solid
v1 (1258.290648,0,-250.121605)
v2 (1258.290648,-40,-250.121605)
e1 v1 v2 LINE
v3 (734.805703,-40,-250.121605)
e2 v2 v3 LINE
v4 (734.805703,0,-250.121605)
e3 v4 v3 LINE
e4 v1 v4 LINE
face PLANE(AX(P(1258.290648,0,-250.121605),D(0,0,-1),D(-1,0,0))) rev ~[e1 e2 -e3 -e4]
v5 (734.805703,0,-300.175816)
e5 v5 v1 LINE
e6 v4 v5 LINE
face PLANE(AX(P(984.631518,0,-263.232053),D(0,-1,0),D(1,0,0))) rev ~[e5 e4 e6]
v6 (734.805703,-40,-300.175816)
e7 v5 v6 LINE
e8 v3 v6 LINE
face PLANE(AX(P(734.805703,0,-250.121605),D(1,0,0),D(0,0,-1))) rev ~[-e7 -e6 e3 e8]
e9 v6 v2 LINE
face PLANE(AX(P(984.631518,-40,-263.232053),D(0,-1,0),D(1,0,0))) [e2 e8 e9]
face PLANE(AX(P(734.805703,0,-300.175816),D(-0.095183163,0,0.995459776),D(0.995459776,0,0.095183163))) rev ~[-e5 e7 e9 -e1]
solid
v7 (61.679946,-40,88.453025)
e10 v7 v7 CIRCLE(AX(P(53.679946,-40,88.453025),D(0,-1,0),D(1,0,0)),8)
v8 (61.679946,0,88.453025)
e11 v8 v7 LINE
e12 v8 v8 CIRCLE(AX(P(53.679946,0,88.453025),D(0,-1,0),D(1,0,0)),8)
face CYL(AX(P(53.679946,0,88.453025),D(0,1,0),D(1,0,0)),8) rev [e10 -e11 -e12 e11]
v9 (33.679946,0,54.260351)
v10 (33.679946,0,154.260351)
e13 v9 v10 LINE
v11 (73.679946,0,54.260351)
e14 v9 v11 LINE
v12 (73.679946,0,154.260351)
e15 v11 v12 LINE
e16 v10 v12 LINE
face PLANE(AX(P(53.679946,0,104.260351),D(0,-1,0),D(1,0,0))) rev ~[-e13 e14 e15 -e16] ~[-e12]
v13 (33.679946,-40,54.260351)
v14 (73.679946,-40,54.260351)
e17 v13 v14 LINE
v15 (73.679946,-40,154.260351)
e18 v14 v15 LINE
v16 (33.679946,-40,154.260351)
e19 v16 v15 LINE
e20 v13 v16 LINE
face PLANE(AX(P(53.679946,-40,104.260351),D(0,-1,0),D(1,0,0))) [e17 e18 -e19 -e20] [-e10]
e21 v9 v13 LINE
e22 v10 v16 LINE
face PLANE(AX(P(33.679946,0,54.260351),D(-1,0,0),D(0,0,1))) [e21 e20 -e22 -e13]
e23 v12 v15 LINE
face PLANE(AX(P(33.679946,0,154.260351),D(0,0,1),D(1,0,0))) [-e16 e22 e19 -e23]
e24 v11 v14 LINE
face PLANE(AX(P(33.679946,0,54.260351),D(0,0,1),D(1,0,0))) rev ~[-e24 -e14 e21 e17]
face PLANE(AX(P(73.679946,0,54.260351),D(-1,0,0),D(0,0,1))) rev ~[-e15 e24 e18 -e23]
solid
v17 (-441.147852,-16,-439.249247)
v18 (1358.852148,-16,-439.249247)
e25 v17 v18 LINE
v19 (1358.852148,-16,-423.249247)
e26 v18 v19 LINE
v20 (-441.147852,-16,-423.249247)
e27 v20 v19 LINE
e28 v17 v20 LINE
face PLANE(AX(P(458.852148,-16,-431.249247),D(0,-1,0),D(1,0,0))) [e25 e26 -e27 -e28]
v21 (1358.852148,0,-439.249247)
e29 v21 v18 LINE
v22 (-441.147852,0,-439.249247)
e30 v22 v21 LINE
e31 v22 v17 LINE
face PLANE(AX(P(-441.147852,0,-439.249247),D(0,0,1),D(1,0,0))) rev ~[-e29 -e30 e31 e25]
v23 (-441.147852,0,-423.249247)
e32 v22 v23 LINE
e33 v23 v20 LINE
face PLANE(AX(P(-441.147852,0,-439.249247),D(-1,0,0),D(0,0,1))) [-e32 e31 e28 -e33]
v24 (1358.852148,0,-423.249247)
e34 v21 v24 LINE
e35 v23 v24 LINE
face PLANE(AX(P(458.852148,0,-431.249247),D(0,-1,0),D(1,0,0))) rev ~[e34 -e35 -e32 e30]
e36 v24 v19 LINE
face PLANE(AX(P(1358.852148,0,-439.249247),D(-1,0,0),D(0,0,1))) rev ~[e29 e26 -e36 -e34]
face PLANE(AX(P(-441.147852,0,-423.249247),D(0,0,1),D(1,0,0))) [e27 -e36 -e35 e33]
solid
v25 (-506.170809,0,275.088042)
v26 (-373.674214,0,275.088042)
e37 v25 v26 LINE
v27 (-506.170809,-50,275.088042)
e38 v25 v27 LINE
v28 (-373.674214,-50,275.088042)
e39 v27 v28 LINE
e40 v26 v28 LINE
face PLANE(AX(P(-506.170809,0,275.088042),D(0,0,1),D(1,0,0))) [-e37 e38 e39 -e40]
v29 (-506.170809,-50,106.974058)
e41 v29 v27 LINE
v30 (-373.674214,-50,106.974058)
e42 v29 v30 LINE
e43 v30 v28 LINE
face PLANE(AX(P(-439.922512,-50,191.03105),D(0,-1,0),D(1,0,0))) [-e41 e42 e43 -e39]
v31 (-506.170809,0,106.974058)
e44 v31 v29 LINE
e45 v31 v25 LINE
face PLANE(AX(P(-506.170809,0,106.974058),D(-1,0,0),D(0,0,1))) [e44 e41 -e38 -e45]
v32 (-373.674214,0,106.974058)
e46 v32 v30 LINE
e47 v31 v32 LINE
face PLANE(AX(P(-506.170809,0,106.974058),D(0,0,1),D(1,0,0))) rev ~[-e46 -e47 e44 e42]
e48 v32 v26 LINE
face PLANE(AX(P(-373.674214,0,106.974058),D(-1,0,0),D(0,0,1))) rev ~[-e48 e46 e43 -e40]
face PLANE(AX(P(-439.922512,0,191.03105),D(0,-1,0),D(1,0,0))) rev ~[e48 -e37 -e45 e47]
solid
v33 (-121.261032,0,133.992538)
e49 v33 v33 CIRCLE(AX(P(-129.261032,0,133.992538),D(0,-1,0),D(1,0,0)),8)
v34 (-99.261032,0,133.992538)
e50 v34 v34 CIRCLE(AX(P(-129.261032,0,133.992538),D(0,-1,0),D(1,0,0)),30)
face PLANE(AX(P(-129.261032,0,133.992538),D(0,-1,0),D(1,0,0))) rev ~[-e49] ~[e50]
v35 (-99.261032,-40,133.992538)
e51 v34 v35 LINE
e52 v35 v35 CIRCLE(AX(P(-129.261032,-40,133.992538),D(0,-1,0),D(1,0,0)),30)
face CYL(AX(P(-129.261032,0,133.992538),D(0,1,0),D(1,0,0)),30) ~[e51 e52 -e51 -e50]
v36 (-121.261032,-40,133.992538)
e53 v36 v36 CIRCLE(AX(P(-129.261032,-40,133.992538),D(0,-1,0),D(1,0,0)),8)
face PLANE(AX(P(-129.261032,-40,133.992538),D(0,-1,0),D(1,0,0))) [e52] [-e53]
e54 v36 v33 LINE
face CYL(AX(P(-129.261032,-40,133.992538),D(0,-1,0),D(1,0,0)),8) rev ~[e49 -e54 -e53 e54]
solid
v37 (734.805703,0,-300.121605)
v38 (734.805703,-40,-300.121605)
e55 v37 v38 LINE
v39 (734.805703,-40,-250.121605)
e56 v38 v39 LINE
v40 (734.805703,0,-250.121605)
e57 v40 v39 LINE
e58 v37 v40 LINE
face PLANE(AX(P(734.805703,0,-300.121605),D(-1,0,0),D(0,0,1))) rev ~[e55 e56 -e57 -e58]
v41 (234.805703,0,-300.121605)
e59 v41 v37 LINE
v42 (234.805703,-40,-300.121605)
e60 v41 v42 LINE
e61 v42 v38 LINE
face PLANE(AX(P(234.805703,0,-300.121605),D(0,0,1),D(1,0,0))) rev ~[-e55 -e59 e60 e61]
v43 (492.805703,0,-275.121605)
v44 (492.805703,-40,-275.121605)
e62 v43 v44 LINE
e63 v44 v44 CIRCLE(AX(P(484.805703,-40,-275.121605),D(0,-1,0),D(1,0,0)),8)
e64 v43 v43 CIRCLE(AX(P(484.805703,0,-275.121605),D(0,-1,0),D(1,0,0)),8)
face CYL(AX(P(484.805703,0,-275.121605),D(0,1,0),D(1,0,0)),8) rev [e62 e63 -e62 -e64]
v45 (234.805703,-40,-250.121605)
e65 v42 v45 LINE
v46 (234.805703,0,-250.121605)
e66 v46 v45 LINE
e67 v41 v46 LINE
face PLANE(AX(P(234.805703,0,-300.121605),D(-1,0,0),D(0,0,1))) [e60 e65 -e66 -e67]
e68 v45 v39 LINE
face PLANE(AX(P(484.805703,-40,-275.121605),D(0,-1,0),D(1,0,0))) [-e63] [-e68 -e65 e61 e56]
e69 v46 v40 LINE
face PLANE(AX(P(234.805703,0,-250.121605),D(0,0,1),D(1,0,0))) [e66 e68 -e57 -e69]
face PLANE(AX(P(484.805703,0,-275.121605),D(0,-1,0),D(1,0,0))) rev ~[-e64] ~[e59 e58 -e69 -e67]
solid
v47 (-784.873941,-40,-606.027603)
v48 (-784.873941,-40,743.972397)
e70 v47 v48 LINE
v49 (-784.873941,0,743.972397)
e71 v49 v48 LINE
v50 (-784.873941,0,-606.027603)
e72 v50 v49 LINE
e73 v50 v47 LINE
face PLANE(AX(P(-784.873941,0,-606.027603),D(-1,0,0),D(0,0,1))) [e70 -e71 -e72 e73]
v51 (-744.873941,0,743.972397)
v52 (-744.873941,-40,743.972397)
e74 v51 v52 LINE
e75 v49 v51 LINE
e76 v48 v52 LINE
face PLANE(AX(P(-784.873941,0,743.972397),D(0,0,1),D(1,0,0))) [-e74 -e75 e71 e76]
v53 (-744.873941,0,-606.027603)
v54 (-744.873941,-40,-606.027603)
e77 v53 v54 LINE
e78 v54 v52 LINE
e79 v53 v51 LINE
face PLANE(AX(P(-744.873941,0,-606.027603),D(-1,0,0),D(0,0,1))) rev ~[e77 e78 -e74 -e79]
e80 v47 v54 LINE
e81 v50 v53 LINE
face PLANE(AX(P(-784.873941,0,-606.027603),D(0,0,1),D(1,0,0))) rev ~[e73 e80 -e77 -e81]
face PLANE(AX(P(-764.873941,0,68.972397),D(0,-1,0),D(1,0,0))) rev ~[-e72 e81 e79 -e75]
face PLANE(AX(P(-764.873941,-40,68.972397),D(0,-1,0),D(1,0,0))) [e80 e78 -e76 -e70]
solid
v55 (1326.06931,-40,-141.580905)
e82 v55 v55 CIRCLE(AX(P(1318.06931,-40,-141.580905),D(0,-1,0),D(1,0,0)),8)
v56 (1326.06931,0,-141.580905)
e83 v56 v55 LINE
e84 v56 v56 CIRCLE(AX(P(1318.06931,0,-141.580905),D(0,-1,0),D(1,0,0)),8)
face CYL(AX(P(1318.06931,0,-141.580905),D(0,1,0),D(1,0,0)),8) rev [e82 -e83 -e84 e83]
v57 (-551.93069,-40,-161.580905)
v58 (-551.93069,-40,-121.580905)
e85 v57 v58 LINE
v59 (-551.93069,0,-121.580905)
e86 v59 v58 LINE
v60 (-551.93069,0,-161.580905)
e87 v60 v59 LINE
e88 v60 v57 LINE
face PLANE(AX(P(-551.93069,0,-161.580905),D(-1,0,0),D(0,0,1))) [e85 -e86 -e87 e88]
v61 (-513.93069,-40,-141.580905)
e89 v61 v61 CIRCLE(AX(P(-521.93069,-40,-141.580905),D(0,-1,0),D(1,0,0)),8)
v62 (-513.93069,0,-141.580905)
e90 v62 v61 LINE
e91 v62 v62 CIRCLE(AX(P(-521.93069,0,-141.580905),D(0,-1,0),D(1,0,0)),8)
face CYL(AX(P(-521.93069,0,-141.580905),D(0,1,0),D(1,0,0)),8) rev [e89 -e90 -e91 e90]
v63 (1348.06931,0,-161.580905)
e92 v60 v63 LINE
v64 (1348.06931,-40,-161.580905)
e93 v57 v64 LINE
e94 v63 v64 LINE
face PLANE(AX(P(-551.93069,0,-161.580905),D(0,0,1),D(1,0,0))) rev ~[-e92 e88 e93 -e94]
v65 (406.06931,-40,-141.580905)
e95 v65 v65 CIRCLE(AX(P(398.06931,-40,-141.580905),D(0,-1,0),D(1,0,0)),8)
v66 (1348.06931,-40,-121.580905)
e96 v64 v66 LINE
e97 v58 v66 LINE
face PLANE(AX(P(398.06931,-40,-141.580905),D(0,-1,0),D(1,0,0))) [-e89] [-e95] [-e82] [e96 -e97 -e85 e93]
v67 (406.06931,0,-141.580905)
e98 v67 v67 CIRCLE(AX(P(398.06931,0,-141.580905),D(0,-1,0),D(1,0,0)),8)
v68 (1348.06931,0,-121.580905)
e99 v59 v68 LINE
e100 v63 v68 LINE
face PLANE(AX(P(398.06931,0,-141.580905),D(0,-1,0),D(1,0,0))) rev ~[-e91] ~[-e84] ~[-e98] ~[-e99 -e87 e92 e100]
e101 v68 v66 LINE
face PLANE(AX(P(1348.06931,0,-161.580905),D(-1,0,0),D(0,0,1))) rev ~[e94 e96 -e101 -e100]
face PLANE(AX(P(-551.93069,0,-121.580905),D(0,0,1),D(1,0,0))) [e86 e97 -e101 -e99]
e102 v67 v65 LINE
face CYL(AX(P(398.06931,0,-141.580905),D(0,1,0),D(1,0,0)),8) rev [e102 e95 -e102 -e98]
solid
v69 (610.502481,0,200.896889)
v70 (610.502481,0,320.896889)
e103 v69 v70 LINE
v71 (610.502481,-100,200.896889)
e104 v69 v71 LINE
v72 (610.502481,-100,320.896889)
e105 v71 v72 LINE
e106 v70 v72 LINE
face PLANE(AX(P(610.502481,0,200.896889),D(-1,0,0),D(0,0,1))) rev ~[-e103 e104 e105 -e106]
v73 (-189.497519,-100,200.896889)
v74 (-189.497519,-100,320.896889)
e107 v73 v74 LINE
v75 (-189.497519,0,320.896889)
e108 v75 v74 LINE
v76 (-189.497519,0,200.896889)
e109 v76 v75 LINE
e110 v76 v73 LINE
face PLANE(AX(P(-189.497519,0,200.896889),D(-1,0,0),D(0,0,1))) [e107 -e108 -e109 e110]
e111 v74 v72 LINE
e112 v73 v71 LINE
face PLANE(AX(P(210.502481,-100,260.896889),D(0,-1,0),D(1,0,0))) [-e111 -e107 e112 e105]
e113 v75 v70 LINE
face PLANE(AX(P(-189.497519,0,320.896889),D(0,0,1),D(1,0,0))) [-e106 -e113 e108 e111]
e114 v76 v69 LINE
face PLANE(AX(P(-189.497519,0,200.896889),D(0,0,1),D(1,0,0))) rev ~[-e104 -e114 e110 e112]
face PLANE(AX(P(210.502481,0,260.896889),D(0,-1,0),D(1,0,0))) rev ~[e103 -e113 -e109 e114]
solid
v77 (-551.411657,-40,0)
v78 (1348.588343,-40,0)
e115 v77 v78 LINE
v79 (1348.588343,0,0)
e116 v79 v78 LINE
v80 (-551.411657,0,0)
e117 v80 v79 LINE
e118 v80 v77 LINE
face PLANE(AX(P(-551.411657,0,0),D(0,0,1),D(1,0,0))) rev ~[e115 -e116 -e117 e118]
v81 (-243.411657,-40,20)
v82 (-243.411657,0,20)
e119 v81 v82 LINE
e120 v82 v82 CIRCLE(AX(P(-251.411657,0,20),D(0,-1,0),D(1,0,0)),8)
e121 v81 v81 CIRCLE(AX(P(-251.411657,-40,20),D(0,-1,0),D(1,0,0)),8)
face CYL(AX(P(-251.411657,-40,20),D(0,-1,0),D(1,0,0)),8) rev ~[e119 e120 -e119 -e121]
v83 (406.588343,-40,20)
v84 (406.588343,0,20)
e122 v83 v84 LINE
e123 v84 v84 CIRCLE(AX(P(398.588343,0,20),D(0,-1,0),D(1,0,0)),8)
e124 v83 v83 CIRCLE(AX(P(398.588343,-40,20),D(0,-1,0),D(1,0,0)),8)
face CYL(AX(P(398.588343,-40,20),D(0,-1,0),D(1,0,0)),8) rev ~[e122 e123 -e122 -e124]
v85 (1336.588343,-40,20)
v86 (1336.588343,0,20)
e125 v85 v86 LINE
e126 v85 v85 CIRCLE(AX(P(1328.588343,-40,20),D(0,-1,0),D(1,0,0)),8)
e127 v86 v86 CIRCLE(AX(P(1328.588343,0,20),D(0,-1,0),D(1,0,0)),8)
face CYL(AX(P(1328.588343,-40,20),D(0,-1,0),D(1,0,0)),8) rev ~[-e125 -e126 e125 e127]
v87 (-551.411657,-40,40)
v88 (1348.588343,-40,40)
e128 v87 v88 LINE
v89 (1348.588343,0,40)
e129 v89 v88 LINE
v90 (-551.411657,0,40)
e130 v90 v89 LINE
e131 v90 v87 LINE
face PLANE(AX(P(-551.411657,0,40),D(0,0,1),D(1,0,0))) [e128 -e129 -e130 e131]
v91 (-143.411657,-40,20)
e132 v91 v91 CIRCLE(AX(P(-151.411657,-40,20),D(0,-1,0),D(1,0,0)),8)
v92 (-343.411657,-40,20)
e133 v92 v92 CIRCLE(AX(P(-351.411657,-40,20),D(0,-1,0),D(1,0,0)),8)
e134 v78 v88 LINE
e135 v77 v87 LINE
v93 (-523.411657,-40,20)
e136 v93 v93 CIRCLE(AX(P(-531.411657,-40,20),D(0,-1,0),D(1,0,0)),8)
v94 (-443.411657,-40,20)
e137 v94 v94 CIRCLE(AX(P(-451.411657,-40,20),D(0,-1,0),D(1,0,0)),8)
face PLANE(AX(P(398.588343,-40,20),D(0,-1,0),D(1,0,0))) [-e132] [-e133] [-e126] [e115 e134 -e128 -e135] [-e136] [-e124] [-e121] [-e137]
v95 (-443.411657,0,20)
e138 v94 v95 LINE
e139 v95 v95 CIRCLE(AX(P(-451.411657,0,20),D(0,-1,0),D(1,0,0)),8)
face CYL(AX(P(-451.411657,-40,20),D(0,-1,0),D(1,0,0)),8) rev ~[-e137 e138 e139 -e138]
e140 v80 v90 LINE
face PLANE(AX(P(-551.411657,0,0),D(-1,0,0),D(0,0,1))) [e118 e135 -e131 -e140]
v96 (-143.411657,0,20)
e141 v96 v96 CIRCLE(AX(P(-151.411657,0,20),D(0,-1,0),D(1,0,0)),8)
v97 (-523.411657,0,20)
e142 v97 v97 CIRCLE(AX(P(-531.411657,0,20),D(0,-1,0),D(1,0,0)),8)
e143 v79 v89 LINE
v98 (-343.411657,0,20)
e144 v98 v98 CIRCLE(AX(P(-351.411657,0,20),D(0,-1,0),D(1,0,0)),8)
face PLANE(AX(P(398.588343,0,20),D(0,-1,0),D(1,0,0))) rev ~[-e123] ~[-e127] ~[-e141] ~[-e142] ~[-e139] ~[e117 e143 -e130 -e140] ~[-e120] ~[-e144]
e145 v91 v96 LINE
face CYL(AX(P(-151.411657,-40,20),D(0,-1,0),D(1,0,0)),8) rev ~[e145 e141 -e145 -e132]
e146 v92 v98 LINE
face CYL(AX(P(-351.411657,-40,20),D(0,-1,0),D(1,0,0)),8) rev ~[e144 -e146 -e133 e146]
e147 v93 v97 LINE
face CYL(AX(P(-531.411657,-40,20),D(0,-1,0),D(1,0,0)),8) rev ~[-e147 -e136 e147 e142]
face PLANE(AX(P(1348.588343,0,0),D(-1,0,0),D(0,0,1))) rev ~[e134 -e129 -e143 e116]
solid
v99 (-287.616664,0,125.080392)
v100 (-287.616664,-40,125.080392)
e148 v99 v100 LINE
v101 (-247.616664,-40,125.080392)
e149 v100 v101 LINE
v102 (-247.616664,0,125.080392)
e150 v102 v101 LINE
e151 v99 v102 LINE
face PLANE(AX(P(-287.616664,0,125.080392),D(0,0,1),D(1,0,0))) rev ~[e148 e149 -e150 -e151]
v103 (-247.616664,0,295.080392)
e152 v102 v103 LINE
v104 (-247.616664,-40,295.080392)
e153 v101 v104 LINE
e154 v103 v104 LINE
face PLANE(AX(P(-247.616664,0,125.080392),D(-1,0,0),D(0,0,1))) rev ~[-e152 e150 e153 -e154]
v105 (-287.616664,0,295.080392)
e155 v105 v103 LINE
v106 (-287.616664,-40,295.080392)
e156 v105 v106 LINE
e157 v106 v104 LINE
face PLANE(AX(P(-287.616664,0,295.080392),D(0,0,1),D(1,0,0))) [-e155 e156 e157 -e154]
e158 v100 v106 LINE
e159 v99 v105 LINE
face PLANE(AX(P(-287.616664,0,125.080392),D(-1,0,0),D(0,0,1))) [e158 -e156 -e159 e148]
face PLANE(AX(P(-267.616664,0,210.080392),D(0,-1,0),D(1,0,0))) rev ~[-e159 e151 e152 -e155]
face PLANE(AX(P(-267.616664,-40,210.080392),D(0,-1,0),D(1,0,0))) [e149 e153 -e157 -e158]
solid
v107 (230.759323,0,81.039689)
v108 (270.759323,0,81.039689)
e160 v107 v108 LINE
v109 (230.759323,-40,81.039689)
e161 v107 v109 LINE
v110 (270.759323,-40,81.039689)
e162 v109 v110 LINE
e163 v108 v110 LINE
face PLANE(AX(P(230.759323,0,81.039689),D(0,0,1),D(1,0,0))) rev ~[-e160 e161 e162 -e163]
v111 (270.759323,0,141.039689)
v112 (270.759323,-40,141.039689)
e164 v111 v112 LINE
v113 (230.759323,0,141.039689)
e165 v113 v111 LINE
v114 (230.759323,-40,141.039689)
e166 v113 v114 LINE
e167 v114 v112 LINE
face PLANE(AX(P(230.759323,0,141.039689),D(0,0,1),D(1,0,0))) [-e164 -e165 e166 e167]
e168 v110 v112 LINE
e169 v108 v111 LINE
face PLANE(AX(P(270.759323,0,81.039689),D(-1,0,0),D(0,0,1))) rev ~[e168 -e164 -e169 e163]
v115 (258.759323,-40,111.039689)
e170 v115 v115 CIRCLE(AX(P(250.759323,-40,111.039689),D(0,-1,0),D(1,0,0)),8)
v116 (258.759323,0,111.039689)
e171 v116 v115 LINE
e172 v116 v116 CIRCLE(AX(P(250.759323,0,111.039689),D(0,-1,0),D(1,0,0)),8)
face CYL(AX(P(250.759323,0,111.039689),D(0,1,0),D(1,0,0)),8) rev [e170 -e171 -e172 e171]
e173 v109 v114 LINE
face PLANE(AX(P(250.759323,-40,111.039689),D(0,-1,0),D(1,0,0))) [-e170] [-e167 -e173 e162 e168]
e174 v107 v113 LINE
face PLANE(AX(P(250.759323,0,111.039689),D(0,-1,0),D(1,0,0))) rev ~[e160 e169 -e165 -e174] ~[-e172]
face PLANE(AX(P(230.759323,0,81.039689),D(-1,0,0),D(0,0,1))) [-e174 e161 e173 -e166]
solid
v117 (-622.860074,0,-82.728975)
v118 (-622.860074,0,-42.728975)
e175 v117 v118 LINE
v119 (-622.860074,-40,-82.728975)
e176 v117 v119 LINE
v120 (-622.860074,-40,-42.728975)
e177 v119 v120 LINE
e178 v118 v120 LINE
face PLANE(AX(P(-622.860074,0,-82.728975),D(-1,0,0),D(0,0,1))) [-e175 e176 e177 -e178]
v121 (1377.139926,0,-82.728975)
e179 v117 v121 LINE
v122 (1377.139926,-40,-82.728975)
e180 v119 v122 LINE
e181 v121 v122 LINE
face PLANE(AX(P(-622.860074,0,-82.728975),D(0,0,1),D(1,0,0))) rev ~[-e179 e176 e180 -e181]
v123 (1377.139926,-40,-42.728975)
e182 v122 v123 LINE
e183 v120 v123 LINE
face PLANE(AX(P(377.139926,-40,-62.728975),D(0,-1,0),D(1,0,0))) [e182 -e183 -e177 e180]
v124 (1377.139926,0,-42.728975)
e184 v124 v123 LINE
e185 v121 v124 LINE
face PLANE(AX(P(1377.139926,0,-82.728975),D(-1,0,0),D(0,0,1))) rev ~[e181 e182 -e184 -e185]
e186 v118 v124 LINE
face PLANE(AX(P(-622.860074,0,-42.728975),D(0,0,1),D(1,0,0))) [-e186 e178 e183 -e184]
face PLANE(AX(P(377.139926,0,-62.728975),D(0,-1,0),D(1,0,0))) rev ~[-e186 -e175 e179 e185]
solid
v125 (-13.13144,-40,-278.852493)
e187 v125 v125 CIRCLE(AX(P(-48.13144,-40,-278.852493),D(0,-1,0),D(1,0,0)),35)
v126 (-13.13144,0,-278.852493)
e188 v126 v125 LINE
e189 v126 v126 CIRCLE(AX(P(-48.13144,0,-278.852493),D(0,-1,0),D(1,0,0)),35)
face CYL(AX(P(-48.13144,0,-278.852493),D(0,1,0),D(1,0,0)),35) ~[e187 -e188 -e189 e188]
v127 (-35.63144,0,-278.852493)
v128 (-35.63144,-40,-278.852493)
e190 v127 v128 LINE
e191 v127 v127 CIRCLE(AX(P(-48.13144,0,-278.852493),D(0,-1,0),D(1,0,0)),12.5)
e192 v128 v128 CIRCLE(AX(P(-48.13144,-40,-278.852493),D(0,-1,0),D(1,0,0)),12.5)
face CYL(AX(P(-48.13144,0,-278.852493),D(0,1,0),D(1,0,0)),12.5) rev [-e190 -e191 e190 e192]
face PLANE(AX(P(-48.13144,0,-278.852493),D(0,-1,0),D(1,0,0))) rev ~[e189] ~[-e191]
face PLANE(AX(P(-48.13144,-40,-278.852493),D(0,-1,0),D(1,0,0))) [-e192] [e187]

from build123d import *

# Parameters (mm, degrees)
F0_W      = 1900
F0_H      = 40
F1_DEPTH  = 40
F2_R      = 8
F3_DEPTH  = 40
F4_R      = 8
F5_DEPTH  = 40
F6_R      = 8
F7_DEPTH  = 40
F8_R      = 30
F9_DEPTH  = 40
F10_R     = 8
F11_DEPTH = 40
F12_W     = 40
F12_H     = 60
F12_R     = 8
F13_DEPTH = 40
F14_W     = 2000
F14_H     = 40
F15_DEPTH = 40
F16_W     = 800
F16_H     = 120
F17_DEPTH = 100
F18_R     = 8
F19_DEPTH = 40
F20_R     = 8
F21_DEPTH = 40
F22_W     = 40
F22_H     = 100
F22_R     = 8
F23_DEPTH = 40
F24_W     = 132.4965953827
F24_H     = 168.1139841676
F25_DEPTH = 50
F26_R     = 8
F27_DEPTH = 40
F28_R     = 8
F29_DEPTH = 40
F30_R     = 8
F31_DEPTH = 40
F32_W     = 1900
F32_H     = 40
F32_R     = 8
F33_DEPTH = 40
F34_W     = 40
F34_H     = 170
F35_DEPTH = 40
F36_W     = 500
F36_H     = 50
F36_R     = 8
F38_DEPTH = 40
F39_R     = 35
F39_R_2   = 12.5
F40_DEPTH = 40
F41_W     = 40
F41_H     = 1350
F42_DEPTH = 40
F43_W     = 1800
F43_H     = 16
F44_DEPTH = 16


with BuildPart() as f1:
    # F0 (on Front) → F1 (new body)
    with BuildSketch(Plane.XZ):
        with Locations((398.5883434173, 20)):
            Rectangle(F0_W, F0_H)
    extrude(amount=F1_DEPTH)

    # F2 (on face) → F3 (cut)
    with BuildSketch(Plane.XZ.offset(40)):
        with Locations((-531.4116565827, 20)):
            Circle(F2_R)
    extrude(amount=-F3_DEPTH, mode=Mode.SUBTRACT)

    # F4 (on face) → F5 (cut)
    with BuildSketch(Plane.XZ.offset(40)):
        with Locations((398.5883434173, 20)):
            Circle(F4_R)
    extrude(amount=-F5_DEPTH, mode=Mode.SUBTRACT)

    # F6 (on face) → F7 (cut)
    with BuildSketch(Plane.XZ.offset(40)):
        with Locations((1328.5883434173, 20)):
            Circle(F6_R)
    extrude(amount=-F7_DEPTH, mode=Mode.SUBTRACT)

    # F18 (on face) → F19 (cut)
    with BuildSketch(Plane.XZ.offset(40)):
        with Locations((-451.4116565827, 20)):
            Circle(F18_R)
    extrude(amount=-F19_DEPTH, mode=Mode.SUBTRACT)

    # F20 (on face) → F21 (cut)
    with BuildSketch(Plane.XZ.offset(40)):
        with Locations((-351.4116565827, 20)):
            Circle(F20_R)
    extrude(amount=-F21_DEPTH, mode=Mode.SUBTRACT)

    # F26 (on face) → F27 (cut)
    with BuildSketch(Plane.XZ.offset(40)):
        with Locations((-264.6850347519, 20)):
            Circle(F26_R)
    extrude(amount=F27_DEPTH, mode=Mode.SUBTRACT)

    # F28 (on face) → F29 (cut)
    with BuildSketch(Plane.XZ.offset(40)):
        with Locations((-251.4116565827, 20)):
            Circle(F28_R)
    extrude(amount=-F29_DEPTH, mode=Mode.SUBTRACT)

    # F30 (on face) → F31 (cut)
    with BuildSketch(Plane.XZ.offset(40)):
        with Locations((-151.4116565827, 20)):
            Circle(F30_R)
    extrude(amount=-F31_DEPTH, mode=Mode.SUBTRACT)


with BuildPart() as f9:
    # F8 (on Front) → F9 (new body)
    with BuildSketch(Plane.XZ):
        with Locations((-129.2610317469, 133.9925378561)):
            Circle(F8_R)
    extrude(amount=F9_DEPTH)

    # F10 (on face) → F11 (cut)
    with BuildSketch(Plane.XZ.offset(40)):
        with Locations((-129.2610317469, 133.9925378561)):
            Circle(F10_R)
    extrude(amount=-F11_DEPTH, mode=Mode.SUBTRACT)


with BuildPart() as f13:
    # F12 (on Front) → F13 (new body)
    with BuildSketch(Plane.XZ):
        with Locations((250.7593226433, 111.0396894813)):
            Rectangle(F12_W, F12_H)
        with Locations((250.7593226433, 111.0396894813)):
            Circle(F12_R, mode=Mode.SUBTRACT)
    extrude(amount=F13_DEPTH)


with BuildPart() as f15:
    # F14 (on Front) → F15 (new body)
    with BuildSketch(Plane.XZ):
        with Locations((377.1399259567, -62.7289745212)):
            Rectangle(F14_W, F14_H)
    extrude(amount=F15_DEPTH)


with BuildPart() as f17:
    # F16 (on Front) → F17 (new body)
    with BuildSketch(Plane.XZ):
        with Locations((210.5024814606, 260.8968889713)):
            Rectangle(F16_W, F16_H)
    extrude(amount=F17_DEPTH)


with BuildPart() as f23:
    # F22 (on Front) → F23 (new body)
    with BuildSketch(Plane.XZ):
        with Locations((53.679946363, 104.2603507638)):
            Rectangle(F22_W, F22_H)
        with Locations((53.679946363, 88.4530246258)):
            Circle(F22_R, mode=Mode.SUBTRACT)
    extrude(amount=F23_DEPTH)


with BuildPart() as f25:
    # F24 (on Front) → F25 (new body)
    with BuildSketch(Plane.XZ):
        with Locations((-439.9225115776, 191.031049937)):
            Rectangle(F24_W, F24_H)
    extrude(amount=F25_DEPTH)


with BuildPart() as f33:
    # F32 (on Front) → F33 (new body)
    with BuildSketch(Plane.XZ):
        with Locations((398.0693101883, -141.5809053183)):
            Rectangle(F32_W, F32_H)
        with Locations((-521.9306898117, -141.5809053183)):
            Circle(F32_R, mode=Mode.SUBTRACT)
        with Locations((398.0693101883, -141.5809053183)):
            Circle(F32_R, mode=Mode.SUBTRACT)
        with Locations((1318.0693101883, -141.5809053183)):
            Circle(F32_R, mode=Mode.SUBTRACT)
    extrude(amount=F33_DEPTH)


with BuildPart() as f35:
    # F34 (on Front) → F35 (new body)
    with BuildSketch(Plane.XZ):
        with Locations((-267.6166635752, 210.0803917646)):
            Rectangle(F34_W, F34_H)
    extrude(amount=F35_DEPTH)


with BuildPart() as f38:
    # F36 (on Front) → F38 (new body)
    with BuildSketch(Plane.XZ):
        with Locations((484.8057031631, -275.1216053963)):
            Rectangle(F36_W, F36_H)
        with Locations((484.8057031631, -275.1216053963)):
            Circle(F36_R, mode=Mode.SUBTRACT)
    extrude(amount=F38_DEPTH)


with BuildPart() as f38b:
    # F37 (on face) → F38, piece 2 (new body)
    with BuildSketch(Plane.XZ):
        Polygon((1258.2906484604, -250.1216053963), (734.8057031631, -250.1216053963), (734.8057031631, -300.1216053963), (734.8057031631, -300.1758158207), align=None)
    extrude(amount=F38_DEPTH)


with BuildPart() as f40:
    # F39 (on Front) → F40 (new body)
    with BuildSketch(Plane.XZ):
        with Locations((-48.1314398348, -278.8524925709)):
            Circle(F39_R)
        with Locations((-48.1314398348, -278.8524925709)):
            Circle(F39_R_2, mode=Mode.SUBTRACT)
    extrude(amount=F40_DEPTH)


with BuildPart() as f42:
    # F41 (on Front) → F42 (new body)
    with BuildSketch(Plane.XZ):
        with Locations((-764.8739409447, 68.9723968506)):
            Rectangle(F41_W, F41_H)
    extrude(amount=F42_DEPTH)


with BuildPart() as f44:
    # F43 (on Front) → F44 (new body)
    with BuildSketch(Plane.XZ):
        with Locations((458.852148056, -431.2492473125)):
            Rectangle(F43_W, F43_H)
    extrude(amount=F44_DEPTH)


solid = Compound([f1.part, f9.part, f13.part, f15.part, f17.part, f23.part, f25.part, f33.part, f35.part, f38.part, f38b.part, f40.part, f42.part, f44.part])
